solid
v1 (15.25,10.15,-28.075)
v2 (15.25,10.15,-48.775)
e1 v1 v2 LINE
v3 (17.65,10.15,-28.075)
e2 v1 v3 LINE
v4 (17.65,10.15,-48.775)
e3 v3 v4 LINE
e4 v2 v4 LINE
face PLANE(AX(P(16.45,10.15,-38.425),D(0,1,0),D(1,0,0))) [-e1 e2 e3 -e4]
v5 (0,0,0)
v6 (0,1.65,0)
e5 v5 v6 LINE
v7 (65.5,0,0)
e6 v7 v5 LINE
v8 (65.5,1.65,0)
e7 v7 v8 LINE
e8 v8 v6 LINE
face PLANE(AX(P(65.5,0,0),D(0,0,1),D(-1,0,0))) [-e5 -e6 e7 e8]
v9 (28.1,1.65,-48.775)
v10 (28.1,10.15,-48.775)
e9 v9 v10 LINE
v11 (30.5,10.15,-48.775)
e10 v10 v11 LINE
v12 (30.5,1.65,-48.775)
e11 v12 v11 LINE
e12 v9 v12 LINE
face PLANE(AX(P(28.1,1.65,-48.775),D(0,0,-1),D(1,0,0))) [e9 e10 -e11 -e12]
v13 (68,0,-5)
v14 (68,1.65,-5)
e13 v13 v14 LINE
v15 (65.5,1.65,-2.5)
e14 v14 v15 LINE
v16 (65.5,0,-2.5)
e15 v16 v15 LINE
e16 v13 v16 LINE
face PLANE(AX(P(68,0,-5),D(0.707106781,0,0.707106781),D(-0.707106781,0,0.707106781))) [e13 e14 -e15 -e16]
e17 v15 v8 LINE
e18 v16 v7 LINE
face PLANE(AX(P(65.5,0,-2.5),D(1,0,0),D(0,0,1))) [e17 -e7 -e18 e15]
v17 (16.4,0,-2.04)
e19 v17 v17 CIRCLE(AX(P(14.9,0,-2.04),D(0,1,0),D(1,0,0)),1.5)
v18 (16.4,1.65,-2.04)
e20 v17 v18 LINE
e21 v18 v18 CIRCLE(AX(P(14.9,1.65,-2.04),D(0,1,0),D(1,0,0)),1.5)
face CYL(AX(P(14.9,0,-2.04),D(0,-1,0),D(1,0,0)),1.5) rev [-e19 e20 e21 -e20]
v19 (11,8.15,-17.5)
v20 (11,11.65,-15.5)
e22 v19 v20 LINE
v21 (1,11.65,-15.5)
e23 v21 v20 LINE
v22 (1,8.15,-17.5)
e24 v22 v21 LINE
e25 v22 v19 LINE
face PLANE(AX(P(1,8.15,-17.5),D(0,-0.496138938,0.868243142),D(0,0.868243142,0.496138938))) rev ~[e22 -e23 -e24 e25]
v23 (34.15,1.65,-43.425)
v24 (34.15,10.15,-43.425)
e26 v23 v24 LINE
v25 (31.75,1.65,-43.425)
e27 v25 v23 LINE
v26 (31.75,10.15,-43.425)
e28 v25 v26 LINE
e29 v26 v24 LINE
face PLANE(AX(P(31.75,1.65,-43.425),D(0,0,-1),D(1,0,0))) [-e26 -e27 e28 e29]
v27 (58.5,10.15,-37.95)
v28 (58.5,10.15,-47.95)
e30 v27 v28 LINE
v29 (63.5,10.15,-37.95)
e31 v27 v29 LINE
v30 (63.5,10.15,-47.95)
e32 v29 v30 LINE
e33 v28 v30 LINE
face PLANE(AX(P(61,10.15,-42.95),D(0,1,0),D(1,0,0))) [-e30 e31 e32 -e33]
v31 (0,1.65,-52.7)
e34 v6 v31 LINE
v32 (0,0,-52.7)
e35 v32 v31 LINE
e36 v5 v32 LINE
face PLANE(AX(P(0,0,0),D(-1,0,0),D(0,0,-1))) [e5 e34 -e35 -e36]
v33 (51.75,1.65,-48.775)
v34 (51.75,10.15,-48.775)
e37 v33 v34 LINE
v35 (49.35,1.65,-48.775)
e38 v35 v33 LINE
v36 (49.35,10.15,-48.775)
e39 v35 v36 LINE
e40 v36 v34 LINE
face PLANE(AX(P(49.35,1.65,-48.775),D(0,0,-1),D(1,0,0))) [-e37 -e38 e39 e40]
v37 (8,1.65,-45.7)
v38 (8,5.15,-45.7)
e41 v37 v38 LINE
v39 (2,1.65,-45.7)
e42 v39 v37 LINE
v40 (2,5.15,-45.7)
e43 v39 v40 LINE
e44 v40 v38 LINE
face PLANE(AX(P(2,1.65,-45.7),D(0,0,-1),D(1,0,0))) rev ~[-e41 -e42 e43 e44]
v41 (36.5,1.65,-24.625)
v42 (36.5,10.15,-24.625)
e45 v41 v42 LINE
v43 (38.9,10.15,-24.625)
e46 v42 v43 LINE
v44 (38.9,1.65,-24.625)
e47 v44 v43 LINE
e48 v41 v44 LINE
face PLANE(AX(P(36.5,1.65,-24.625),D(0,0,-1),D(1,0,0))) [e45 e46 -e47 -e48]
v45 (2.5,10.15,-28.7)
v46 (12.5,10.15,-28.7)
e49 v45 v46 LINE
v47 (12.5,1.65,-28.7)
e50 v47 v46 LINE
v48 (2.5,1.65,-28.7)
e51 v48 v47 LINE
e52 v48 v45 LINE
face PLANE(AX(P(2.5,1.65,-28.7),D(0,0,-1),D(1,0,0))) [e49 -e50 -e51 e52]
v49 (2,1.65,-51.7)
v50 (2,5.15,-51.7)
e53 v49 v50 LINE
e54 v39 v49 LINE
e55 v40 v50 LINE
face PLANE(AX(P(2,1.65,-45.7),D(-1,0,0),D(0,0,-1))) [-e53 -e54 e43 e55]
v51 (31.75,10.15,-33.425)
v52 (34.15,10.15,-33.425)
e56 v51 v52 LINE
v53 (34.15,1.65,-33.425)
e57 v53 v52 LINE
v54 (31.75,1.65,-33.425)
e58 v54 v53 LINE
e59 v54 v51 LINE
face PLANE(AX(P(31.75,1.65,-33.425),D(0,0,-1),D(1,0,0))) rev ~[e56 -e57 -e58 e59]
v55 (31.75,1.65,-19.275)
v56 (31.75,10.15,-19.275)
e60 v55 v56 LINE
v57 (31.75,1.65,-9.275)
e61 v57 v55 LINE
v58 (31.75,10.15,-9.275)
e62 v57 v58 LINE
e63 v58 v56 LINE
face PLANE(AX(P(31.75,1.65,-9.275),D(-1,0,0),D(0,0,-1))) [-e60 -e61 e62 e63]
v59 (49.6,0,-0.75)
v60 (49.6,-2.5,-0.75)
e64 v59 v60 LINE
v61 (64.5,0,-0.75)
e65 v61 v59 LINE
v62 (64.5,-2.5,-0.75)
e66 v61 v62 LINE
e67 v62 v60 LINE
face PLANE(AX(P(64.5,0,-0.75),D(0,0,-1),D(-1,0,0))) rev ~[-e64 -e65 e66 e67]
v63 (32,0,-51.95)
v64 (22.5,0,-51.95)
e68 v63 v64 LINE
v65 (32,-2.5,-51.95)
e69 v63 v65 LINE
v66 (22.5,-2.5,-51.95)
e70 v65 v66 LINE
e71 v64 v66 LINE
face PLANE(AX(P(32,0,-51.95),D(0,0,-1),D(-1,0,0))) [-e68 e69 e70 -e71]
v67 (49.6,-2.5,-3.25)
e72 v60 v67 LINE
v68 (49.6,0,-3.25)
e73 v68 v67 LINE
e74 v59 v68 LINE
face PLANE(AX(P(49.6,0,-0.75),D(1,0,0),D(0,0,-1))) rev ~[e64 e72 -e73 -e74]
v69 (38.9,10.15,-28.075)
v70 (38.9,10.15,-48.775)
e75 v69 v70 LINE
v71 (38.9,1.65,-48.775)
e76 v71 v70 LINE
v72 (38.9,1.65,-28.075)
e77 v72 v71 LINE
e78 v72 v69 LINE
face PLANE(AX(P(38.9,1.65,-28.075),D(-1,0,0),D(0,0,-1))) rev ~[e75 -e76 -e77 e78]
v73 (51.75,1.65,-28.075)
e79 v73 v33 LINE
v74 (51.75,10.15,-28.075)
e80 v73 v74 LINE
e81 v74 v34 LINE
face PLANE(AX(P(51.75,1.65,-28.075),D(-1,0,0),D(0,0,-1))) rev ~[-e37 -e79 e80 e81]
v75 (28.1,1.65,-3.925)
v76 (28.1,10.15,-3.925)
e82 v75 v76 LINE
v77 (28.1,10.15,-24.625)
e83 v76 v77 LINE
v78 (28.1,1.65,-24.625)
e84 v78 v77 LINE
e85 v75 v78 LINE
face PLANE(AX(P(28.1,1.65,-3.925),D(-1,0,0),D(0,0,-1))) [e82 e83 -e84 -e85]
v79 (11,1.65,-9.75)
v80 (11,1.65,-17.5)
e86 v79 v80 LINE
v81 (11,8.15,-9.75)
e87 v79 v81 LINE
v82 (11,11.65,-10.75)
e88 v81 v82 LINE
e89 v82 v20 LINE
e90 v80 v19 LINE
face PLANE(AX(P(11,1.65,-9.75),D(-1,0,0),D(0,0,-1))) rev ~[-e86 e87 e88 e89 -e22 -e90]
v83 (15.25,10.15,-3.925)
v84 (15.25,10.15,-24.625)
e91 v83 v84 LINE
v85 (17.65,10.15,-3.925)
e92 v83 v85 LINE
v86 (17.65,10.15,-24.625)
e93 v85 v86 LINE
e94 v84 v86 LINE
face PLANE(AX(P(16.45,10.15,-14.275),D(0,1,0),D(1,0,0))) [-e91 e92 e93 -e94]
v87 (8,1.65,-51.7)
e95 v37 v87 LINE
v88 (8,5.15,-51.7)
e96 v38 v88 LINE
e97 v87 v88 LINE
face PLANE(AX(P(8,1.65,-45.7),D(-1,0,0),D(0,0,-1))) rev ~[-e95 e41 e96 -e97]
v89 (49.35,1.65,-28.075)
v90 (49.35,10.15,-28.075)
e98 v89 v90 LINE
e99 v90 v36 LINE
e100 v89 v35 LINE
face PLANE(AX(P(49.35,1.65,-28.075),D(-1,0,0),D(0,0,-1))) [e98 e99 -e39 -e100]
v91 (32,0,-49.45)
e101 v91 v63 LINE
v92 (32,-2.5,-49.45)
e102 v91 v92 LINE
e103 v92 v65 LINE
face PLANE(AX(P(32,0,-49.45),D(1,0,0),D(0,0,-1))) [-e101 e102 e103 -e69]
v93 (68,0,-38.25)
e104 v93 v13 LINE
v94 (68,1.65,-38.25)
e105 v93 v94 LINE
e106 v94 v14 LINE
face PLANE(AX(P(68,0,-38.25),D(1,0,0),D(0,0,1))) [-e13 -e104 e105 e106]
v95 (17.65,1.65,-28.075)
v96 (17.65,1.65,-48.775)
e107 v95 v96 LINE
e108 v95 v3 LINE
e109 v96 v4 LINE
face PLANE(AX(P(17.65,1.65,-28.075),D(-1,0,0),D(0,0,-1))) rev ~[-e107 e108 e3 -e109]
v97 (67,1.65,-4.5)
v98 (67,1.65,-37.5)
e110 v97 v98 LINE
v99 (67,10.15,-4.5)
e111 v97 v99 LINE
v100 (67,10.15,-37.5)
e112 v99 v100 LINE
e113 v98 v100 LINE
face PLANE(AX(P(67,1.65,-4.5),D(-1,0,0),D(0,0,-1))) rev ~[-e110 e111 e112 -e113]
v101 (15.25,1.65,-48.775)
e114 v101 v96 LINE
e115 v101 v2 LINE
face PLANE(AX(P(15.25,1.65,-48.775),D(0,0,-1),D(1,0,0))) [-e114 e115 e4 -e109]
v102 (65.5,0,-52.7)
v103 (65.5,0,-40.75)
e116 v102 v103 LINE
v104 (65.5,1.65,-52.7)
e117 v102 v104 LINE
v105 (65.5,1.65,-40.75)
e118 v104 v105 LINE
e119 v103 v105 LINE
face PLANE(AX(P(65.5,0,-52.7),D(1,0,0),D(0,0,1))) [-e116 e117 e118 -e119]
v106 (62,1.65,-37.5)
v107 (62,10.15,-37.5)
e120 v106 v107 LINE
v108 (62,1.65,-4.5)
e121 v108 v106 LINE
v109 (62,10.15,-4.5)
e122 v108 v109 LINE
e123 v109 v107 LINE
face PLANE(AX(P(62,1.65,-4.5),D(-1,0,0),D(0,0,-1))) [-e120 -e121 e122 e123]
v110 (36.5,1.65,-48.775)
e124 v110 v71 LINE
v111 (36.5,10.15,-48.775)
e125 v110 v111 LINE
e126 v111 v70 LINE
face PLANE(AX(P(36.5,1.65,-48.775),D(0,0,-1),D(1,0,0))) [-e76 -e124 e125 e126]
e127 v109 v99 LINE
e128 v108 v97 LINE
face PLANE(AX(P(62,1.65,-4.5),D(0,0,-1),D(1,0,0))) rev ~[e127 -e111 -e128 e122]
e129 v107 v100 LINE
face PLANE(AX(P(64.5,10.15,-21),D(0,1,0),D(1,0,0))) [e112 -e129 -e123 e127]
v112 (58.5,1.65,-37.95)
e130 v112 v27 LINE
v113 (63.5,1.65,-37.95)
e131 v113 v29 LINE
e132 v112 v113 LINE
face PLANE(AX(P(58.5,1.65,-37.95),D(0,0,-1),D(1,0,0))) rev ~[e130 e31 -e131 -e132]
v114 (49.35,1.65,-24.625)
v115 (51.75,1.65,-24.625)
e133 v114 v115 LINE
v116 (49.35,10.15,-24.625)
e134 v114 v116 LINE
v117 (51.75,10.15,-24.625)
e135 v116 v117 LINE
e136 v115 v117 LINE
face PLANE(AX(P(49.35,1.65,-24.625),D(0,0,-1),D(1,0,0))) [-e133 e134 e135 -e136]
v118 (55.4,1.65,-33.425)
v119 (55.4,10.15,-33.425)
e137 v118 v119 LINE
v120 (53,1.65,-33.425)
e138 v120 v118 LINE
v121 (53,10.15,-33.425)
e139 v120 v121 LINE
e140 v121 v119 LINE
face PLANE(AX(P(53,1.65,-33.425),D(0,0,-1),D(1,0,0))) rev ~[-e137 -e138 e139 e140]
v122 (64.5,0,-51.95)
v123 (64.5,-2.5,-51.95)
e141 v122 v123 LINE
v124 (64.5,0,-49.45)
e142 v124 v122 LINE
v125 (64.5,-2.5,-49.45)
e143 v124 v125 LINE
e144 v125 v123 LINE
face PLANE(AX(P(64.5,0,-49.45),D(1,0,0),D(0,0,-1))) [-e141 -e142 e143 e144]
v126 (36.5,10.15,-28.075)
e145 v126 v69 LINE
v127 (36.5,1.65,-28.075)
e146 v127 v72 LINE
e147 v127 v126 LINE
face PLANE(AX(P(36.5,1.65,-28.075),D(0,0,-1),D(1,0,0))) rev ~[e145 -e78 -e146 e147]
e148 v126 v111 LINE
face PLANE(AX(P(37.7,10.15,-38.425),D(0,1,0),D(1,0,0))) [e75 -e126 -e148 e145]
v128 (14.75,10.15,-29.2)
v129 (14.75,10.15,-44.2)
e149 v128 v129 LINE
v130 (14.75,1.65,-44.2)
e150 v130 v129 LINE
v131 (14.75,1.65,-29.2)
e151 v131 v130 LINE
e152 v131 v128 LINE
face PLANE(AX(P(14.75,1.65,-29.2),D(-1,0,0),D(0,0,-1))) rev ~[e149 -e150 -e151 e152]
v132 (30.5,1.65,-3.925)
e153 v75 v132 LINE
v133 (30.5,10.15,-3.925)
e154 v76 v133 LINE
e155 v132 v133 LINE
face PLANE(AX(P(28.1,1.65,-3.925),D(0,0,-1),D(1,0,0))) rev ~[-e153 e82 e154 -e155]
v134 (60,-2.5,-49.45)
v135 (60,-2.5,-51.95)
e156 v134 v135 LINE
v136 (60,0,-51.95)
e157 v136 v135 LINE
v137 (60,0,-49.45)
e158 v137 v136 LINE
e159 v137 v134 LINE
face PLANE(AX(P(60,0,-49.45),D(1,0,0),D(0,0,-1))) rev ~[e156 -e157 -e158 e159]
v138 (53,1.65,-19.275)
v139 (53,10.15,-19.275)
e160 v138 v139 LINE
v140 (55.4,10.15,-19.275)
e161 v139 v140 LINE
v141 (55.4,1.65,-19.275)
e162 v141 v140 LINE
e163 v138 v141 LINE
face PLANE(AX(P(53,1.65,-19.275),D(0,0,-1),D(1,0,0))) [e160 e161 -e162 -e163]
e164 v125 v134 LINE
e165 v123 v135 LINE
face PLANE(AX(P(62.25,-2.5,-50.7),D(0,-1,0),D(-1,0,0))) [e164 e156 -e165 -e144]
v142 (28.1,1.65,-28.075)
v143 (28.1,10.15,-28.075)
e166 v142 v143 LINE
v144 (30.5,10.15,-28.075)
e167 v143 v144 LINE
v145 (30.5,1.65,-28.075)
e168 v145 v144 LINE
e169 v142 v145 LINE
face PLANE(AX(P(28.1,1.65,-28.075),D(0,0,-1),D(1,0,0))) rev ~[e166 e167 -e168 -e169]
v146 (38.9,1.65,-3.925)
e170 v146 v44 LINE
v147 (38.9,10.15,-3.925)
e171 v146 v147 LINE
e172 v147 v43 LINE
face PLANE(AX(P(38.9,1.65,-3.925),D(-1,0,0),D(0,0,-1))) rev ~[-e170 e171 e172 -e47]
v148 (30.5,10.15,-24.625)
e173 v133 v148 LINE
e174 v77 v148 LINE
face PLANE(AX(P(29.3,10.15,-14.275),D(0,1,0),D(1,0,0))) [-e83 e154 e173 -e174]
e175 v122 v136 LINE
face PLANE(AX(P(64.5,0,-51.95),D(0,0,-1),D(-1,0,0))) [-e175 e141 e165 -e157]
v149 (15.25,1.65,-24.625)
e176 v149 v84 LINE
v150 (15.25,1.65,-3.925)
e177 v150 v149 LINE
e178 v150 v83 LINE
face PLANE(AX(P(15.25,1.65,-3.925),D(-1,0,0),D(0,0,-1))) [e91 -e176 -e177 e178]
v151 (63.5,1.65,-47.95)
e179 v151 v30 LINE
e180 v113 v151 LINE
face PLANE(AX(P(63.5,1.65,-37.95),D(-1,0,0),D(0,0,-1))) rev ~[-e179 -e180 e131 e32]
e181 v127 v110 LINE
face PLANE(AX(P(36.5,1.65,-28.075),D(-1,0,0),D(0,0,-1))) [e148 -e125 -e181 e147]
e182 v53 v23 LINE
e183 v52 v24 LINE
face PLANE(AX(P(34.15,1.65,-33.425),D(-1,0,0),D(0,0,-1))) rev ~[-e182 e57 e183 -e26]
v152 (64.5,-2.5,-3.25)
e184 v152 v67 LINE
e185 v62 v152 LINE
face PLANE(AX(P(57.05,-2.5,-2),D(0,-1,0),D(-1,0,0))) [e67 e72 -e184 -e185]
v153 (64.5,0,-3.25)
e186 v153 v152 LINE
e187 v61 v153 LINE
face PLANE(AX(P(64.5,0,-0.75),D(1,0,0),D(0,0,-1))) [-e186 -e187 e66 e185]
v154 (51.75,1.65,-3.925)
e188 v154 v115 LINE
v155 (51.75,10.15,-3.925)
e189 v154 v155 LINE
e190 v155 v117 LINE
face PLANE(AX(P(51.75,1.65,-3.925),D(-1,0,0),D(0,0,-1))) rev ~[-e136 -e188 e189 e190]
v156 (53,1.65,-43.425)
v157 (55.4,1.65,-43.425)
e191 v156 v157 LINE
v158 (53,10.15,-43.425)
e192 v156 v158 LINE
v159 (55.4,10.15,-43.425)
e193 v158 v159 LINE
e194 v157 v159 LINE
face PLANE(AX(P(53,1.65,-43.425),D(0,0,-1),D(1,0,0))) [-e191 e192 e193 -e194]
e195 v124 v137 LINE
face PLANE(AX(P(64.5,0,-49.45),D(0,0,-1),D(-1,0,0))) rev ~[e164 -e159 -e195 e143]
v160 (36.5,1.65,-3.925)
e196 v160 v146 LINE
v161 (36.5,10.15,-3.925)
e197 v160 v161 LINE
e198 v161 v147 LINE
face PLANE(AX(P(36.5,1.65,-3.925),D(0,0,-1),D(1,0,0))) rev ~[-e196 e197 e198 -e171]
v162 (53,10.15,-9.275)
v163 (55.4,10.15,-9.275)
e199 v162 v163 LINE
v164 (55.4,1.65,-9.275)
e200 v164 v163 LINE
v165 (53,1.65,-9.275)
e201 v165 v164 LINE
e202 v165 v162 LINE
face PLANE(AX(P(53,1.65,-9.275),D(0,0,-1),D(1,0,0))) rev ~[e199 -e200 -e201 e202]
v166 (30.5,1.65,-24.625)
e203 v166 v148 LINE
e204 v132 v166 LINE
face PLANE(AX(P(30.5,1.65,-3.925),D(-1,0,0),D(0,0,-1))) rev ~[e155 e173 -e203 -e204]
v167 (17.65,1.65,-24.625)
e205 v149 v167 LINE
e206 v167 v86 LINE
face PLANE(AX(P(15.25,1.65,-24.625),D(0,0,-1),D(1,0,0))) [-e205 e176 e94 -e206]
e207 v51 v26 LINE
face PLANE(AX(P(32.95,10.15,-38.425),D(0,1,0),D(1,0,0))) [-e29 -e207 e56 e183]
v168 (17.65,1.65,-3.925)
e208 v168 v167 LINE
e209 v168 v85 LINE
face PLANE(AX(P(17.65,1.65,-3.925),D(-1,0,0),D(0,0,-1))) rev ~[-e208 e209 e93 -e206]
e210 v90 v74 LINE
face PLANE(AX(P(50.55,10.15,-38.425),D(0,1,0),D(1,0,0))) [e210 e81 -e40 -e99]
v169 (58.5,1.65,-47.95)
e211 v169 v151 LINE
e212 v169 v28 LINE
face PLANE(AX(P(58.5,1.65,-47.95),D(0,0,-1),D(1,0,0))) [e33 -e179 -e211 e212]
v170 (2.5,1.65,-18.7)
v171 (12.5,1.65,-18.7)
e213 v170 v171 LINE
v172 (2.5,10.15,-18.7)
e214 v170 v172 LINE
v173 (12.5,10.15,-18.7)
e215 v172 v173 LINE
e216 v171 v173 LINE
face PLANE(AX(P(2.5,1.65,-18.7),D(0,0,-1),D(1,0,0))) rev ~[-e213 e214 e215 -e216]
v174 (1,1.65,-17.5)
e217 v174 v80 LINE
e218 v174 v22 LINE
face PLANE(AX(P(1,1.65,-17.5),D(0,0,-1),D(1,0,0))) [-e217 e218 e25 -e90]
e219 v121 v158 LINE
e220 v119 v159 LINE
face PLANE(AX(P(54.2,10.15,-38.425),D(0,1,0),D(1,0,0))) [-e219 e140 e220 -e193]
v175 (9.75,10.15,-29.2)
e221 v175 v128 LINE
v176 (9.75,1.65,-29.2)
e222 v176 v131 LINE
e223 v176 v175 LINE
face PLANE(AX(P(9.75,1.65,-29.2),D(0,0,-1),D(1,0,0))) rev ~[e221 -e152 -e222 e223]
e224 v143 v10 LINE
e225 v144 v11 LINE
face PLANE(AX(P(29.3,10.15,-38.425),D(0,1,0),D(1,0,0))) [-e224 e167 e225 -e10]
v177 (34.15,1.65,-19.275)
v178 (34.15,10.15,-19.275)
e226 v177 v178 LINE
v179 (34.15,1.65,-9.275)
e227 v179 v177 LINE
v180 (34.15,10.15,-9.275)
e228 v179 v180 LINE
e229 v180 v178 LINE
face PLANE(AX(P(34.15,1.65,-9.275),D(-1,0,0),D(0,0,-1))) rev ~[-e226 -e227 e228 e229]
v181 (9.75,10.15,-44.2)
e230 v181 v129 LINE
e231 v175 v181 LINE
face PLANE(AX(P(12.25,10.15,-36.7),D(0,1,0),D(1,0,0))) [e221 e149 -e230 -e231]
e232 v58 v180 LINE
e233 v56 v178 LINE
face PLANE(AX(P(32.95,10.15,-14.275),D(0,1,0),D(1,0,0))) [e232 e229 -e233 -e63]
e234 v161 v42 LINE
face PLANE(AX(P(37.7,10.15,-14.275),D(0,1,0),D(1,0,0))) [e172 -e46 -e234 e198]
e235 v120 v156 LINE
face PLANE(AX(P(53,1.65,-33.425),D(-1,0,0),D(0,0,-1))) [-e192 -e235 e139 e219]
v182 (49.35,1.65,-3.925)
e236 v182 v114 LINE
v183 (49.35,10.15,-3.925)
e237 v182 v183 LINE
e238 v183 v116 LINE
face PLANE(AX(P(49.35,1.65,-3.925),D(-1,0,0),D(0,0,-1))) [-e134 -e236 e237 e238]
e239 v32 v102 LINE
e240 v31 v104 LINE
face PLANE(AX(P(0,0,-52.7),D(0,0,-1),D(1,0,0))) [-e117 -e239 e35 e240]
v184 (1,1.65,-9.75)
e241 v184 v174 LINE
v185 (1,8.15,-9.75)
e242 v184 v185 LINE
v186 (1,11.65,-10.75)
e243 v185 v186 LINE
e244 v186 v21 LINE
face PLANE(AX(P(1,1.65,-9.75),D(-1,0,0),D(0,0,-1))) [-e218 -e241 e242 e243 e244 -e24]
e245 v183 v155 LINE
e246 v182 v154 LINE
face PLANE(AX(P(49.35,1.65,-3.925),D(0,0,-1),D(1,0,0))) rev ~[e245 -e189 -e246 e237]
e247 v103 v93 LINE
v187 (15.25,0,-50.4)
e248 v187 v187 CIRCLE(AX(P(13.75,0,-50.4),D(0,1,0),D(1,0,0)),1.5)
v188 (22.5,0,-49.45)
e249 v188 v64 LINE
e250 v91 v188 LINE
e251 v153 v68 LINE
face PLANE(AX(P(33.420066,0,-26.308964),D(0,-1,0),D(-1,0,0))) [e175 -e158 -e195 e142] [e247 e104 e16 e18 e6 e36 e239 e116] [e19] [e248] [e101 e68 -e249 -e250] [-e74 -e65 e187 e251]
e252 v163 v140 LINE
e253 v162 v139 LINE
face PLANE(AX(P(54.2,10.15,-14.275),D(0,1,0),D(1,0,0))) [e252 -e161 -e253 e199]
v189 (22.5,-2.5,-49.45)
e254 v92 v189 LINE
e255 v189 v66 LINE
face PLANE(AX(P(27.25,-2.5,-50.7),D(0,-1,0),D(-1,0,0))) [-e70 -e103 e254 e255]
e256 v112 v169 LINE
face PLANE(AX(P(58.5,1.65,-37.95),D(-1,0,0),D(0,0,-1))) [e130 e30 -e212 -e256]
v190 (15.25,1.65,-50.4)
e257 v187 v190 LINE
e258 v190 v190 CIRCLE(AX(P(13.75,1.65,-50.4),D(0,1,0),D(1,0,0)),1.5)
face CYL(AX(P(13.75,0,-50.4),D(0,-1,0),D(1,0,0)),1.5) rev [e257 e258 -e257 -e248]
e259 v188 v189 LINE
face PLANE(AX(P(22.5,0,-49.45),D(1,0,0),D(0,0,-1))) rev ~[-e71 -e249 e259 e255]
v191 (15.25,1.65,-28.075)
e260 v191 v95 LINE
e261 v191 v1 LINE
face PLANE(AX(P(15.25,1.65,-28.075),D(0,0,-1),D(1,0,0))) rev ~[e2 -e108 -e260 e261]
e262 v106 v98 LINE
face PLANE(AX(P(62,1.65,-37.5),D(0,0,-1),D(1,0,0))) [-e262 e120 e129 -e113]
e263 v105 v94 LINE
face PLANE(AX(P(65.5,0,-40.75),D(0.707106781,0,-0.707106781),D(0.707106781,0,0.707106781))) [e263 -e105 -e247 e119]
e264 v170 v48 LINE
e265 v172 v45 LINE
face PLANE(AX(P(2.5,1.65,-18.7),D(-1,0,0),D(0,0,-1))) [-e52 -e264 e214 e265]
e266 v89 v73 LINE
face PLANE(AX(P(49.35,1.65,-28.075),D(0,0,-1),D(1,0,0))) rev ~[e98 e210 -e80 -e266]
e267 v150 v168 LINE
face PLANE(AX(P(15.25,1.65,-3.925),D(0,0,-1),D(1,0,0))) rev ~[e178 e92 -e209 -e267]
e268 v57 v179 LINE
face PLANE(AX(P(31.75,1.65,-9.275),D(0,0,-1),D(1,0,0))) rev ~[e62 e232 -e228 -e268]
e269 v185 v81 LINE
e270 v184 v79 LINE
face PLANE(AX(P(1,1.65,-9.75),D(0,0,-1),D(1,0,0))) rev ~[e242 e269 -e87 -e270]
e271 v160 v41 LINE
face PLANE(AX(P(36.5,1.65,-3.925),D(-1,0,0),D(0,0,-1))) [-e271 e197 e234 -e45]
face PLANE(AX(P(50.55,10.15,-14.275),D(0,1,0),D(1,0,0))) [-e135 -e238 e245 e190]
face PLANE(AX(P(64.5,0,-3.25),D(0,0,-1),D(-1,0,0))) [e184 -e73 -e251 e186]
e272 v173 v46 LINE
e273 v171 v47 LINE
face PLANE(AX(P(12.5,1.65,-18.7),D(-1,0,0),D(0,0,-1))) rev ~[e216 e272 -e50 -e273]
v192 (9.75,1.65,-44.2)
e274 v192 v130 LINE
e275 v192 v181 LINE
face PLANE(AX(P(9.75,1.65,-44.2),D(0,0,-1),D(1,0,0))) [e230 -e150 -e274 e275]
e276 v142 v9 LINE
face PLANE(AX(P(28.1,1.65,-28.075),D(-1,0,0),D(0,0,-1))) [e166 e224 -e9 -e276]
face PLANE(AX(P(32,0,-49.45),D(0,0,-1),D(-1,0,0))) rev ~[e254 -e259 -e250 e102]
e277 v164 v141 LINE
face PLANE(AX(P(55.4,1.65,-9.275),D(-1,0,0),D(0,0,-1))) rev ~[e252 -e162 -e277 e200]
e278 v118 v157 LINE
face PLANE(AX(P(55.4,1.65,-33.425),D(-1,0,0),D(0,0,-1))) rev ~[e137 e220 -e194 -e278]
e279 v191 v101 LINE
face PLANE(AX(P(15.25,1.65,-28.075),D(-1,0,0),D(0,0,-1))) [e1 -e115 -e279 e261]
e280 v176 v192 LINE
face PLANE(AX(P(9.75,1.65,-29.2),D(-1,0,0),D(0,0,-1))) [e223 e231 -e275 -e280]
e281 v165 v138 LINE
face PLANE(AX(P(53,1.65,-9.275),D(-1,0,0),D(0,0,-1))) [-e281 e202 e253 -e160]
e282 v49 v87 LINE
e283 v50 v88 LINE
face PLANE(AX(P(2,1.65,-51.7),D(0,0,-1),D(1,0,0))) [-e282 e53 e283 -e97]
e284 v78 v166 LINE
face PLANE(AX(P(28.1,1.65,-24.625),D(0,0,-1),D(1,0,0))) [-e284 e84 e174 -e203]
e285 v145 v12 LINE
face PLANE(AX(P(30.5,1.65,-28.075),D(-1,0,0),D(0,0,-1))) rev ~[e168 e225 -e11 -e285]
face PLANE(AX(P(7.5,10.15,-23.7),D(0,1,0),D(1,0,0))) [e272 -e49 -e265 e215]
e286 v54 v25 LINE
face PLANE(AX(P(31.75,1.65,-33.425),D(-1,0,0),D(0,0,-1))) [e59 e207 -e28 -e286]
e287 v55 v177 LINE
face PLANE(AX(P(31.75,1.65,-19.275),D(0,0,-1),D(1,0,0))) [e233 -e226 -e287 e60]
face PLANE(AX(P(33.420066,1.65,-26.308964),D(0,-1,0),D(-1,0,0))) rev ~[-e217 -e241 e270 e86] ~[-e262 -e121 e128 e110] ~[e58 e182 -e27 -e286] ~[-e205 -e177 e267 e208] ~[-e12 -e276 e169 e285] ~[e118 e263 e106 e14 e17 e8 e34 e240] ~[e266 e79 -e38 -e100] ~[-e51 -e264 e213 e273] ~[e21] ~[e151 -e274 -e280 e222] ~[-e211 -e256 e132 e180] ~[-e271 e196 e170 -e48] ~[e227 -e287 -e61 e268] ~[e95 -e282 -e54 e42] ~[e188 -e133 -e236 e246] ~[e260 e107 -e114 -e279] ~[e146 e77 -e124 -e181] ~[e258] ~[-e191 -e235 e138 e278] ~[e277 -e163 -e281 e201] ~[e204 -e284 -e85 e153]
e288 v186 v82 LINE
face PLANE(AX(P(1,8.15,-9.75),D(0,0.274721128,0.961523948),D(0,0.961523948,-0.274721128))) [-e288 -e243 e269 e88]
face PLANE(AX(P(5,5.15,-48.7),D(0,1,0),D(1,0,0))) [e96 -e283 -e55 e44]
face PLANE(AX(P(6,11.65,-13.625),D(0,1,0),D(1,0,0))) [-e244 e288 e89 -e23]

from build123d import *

# Parameters (mm, degrees)
SKETCH1_R           = 1.5
BOSS_EXTRUDE1_DEPTH = 1.65
SKETCH2_W           = 14.9
SKETCH2_H           = 2.5
SKETCH2_W_2         = 4.5
SKETCH2_W_3         = 9.5
BOSS_EXTRUDE2_DEPTH = 2.5
SKETCH3_W           = 5
SKETCH3_H           = 15
SKETCH3_W_2         = 10
SKETCH3_H_2         = 10
SKETCH3_W_3         = 2.4
SKETCH3_H_3         = 20.7
SKETCH3_H_4         = 33
BOSS_EXTRUDE3_DEPTH = 8.5
SKETCH4_W           = 10
SKETCH4_H           = 7.75
BOSS_EXTRUDE4_DEPTH = 10
CUT_EXTRUDE1_DEPTH  = 10
SKETCH6_W           = 6
SKETCH6_H           = 6
BOSS_EXTRUDE5_DEPTH = 3.5


with BuildPart() as part:
    # Sketch1 → Boss-Extrude1 (new body)
    with BuildSketch(Plane(origin=(0, 0, 0), x_dir=(1, 0, 0), z_dir=(0, 1, 0))):
        Polygon((68, 5), (65.5, 2.5), (65.5, 0), (0, 0), (0, 52.7), (65.5, 52.7), (65.5, 40.75), (68, 38.25), align=None)
        with Locations((13.75, 50.4)):
            Circle(SKETCH1_R, mode=Mode.SUBTRACT)
        with Locations((14.9, 2.04)):
            Circle(SKETCH1_R, mode=Mode.SUBTRACT)
    extrude(amount=BOSS_EXTRUDE1_DEPTH)

    # Sketch2 → Boss-Extrude2 (add)
    with BuildSketch(Plane(origin=(0, 0, 0), x_dir=(-1, 0, 0), z_dir=(0, -1, 0))):
        with Locations((-57.05, 2)):
            Rectangle(SKETCH2_W, SKETCH2_H)
        with Locations((-62.25, 50.7)):
            Rectangle(SKETCH2_W_2, SKETCH2_H)
        with Locations((-27.25, 50.7)):
            Rectangle(SKETCH2_W_3, SKETCH2_H)
    extrude(amount=BOSS_EXTRUDE2_DEPTH)

    # Sketch3 → Boss-Extrude3 (add)
    with BuildSketch(Plane(origin=(0, 1.65, 0), x_dir=(1, 0, 0), z_dir=(0, 1, 0))):
        with Locations((12.25, 36.7)):
            Rectangle(SKETCH3_W, SKETCH3_H)
        with Locations((7.5, 23.7)):
            Rectangle(SKETCH3_W_2, SKETCH3_H_2)
        with Locations((16.45, 14.275)):
            Rectangle(SKETCH3_W_3, SKETCH3_H_3)
        with Locations((29.3, 14.275)):
            Rectangle(SKETCH3_W_3, SKETCH3_H_3)
        with Locations((37.7, 14.275)):
            Rectangle(SKETCH3_W_3, SKETCH3_H_3)
        with Locations((50.55, 14.275)):
            Rectangle(SKETCH3_W_3, SKETCH3_H_3)
        with Locations((16.45, 38.425)):
            Rectangle(SKETCH3_W_3, SKETCH3_H_3)
        with Locations((29.3, 38.425)):
            Rectangle(SKETCH3_W_3, SKETCH3_H_3)
        with Locations((37.7, 38.425)):
            Rectangle(SKETCH3_W_3, SKETCH3_H_3)
        with Locations((50.55, 38.425)):
            Rectangle(SKETCH3_W_3, SKETCH3_H_3)
        with Locations((61, 42.95)):
            Rectangle(SKETCH3_W, SKETCH3_H_2)
        with Locations((64.5, 21)):
            Rectangle(SKETCH3_W, SKETCH3_H_4)
        with Locations((32.95, 14.275)):
            Rectangle(SKETCH3_W_3, SKETCH3_H_2)
        with Locations((32.95, 38.425)):
            Rectangle(SKETCH3_W_3, SKETCH3_H_2)
        with Locations((54.2, 38.425)):
            Rectangle(SKETCH3_W_3, SKETCH3_H_2)
        with Locations((54.2, 14.275)):
            Rectangle(SKETCH3_W_3, SKETCH3_H_2)
    extrude(amount=BOSS_EXTRUDE3_DEPTH)

    # Sketch4 → Boss-Extrude4 (add)
    with BuildSketch(Plane(origin=(0, 1.65, 0), x_dir=(1, 0, 0), z_dir=(0, 1, 0))):
        with Locations((6, 13.625)):
            Rectangle(SKETCH4_W, SKETCH4_H)
    extrude(amount=BOSS_EXTRUDE4_DEPTH)

    # Sketch5 → Cut-Extrude1 (cut)
    with BuildSketch(Plane.ZY.offset(-1)):
        Polygon((-17.5, 8.15), (-15.5, 11.65), (-17.5, 11.65), align=None)
        Polygon((-9.75, 11.65), (-9.75, 8.15), (-10.75, 11.65), align=None)
    extrude(amount=-CUT_EXTRUDE1_DEPTH, mode=Mode.SUBTRACT)

    # Sketch6 → Boss-Extrude5 (add)
    with BuildSketch(Plane(origin=(0, 1.65, 0), x_dir=(1, 0, 0), z_dir=(0, 1, 0))):
        with Locations((5, 48.7)):
            Rectangle(SKETCH6_W, SKETCH6_H)
    extrude(amount=BOSS_EXTRUDE5_DEPTH)


solid = part.part
